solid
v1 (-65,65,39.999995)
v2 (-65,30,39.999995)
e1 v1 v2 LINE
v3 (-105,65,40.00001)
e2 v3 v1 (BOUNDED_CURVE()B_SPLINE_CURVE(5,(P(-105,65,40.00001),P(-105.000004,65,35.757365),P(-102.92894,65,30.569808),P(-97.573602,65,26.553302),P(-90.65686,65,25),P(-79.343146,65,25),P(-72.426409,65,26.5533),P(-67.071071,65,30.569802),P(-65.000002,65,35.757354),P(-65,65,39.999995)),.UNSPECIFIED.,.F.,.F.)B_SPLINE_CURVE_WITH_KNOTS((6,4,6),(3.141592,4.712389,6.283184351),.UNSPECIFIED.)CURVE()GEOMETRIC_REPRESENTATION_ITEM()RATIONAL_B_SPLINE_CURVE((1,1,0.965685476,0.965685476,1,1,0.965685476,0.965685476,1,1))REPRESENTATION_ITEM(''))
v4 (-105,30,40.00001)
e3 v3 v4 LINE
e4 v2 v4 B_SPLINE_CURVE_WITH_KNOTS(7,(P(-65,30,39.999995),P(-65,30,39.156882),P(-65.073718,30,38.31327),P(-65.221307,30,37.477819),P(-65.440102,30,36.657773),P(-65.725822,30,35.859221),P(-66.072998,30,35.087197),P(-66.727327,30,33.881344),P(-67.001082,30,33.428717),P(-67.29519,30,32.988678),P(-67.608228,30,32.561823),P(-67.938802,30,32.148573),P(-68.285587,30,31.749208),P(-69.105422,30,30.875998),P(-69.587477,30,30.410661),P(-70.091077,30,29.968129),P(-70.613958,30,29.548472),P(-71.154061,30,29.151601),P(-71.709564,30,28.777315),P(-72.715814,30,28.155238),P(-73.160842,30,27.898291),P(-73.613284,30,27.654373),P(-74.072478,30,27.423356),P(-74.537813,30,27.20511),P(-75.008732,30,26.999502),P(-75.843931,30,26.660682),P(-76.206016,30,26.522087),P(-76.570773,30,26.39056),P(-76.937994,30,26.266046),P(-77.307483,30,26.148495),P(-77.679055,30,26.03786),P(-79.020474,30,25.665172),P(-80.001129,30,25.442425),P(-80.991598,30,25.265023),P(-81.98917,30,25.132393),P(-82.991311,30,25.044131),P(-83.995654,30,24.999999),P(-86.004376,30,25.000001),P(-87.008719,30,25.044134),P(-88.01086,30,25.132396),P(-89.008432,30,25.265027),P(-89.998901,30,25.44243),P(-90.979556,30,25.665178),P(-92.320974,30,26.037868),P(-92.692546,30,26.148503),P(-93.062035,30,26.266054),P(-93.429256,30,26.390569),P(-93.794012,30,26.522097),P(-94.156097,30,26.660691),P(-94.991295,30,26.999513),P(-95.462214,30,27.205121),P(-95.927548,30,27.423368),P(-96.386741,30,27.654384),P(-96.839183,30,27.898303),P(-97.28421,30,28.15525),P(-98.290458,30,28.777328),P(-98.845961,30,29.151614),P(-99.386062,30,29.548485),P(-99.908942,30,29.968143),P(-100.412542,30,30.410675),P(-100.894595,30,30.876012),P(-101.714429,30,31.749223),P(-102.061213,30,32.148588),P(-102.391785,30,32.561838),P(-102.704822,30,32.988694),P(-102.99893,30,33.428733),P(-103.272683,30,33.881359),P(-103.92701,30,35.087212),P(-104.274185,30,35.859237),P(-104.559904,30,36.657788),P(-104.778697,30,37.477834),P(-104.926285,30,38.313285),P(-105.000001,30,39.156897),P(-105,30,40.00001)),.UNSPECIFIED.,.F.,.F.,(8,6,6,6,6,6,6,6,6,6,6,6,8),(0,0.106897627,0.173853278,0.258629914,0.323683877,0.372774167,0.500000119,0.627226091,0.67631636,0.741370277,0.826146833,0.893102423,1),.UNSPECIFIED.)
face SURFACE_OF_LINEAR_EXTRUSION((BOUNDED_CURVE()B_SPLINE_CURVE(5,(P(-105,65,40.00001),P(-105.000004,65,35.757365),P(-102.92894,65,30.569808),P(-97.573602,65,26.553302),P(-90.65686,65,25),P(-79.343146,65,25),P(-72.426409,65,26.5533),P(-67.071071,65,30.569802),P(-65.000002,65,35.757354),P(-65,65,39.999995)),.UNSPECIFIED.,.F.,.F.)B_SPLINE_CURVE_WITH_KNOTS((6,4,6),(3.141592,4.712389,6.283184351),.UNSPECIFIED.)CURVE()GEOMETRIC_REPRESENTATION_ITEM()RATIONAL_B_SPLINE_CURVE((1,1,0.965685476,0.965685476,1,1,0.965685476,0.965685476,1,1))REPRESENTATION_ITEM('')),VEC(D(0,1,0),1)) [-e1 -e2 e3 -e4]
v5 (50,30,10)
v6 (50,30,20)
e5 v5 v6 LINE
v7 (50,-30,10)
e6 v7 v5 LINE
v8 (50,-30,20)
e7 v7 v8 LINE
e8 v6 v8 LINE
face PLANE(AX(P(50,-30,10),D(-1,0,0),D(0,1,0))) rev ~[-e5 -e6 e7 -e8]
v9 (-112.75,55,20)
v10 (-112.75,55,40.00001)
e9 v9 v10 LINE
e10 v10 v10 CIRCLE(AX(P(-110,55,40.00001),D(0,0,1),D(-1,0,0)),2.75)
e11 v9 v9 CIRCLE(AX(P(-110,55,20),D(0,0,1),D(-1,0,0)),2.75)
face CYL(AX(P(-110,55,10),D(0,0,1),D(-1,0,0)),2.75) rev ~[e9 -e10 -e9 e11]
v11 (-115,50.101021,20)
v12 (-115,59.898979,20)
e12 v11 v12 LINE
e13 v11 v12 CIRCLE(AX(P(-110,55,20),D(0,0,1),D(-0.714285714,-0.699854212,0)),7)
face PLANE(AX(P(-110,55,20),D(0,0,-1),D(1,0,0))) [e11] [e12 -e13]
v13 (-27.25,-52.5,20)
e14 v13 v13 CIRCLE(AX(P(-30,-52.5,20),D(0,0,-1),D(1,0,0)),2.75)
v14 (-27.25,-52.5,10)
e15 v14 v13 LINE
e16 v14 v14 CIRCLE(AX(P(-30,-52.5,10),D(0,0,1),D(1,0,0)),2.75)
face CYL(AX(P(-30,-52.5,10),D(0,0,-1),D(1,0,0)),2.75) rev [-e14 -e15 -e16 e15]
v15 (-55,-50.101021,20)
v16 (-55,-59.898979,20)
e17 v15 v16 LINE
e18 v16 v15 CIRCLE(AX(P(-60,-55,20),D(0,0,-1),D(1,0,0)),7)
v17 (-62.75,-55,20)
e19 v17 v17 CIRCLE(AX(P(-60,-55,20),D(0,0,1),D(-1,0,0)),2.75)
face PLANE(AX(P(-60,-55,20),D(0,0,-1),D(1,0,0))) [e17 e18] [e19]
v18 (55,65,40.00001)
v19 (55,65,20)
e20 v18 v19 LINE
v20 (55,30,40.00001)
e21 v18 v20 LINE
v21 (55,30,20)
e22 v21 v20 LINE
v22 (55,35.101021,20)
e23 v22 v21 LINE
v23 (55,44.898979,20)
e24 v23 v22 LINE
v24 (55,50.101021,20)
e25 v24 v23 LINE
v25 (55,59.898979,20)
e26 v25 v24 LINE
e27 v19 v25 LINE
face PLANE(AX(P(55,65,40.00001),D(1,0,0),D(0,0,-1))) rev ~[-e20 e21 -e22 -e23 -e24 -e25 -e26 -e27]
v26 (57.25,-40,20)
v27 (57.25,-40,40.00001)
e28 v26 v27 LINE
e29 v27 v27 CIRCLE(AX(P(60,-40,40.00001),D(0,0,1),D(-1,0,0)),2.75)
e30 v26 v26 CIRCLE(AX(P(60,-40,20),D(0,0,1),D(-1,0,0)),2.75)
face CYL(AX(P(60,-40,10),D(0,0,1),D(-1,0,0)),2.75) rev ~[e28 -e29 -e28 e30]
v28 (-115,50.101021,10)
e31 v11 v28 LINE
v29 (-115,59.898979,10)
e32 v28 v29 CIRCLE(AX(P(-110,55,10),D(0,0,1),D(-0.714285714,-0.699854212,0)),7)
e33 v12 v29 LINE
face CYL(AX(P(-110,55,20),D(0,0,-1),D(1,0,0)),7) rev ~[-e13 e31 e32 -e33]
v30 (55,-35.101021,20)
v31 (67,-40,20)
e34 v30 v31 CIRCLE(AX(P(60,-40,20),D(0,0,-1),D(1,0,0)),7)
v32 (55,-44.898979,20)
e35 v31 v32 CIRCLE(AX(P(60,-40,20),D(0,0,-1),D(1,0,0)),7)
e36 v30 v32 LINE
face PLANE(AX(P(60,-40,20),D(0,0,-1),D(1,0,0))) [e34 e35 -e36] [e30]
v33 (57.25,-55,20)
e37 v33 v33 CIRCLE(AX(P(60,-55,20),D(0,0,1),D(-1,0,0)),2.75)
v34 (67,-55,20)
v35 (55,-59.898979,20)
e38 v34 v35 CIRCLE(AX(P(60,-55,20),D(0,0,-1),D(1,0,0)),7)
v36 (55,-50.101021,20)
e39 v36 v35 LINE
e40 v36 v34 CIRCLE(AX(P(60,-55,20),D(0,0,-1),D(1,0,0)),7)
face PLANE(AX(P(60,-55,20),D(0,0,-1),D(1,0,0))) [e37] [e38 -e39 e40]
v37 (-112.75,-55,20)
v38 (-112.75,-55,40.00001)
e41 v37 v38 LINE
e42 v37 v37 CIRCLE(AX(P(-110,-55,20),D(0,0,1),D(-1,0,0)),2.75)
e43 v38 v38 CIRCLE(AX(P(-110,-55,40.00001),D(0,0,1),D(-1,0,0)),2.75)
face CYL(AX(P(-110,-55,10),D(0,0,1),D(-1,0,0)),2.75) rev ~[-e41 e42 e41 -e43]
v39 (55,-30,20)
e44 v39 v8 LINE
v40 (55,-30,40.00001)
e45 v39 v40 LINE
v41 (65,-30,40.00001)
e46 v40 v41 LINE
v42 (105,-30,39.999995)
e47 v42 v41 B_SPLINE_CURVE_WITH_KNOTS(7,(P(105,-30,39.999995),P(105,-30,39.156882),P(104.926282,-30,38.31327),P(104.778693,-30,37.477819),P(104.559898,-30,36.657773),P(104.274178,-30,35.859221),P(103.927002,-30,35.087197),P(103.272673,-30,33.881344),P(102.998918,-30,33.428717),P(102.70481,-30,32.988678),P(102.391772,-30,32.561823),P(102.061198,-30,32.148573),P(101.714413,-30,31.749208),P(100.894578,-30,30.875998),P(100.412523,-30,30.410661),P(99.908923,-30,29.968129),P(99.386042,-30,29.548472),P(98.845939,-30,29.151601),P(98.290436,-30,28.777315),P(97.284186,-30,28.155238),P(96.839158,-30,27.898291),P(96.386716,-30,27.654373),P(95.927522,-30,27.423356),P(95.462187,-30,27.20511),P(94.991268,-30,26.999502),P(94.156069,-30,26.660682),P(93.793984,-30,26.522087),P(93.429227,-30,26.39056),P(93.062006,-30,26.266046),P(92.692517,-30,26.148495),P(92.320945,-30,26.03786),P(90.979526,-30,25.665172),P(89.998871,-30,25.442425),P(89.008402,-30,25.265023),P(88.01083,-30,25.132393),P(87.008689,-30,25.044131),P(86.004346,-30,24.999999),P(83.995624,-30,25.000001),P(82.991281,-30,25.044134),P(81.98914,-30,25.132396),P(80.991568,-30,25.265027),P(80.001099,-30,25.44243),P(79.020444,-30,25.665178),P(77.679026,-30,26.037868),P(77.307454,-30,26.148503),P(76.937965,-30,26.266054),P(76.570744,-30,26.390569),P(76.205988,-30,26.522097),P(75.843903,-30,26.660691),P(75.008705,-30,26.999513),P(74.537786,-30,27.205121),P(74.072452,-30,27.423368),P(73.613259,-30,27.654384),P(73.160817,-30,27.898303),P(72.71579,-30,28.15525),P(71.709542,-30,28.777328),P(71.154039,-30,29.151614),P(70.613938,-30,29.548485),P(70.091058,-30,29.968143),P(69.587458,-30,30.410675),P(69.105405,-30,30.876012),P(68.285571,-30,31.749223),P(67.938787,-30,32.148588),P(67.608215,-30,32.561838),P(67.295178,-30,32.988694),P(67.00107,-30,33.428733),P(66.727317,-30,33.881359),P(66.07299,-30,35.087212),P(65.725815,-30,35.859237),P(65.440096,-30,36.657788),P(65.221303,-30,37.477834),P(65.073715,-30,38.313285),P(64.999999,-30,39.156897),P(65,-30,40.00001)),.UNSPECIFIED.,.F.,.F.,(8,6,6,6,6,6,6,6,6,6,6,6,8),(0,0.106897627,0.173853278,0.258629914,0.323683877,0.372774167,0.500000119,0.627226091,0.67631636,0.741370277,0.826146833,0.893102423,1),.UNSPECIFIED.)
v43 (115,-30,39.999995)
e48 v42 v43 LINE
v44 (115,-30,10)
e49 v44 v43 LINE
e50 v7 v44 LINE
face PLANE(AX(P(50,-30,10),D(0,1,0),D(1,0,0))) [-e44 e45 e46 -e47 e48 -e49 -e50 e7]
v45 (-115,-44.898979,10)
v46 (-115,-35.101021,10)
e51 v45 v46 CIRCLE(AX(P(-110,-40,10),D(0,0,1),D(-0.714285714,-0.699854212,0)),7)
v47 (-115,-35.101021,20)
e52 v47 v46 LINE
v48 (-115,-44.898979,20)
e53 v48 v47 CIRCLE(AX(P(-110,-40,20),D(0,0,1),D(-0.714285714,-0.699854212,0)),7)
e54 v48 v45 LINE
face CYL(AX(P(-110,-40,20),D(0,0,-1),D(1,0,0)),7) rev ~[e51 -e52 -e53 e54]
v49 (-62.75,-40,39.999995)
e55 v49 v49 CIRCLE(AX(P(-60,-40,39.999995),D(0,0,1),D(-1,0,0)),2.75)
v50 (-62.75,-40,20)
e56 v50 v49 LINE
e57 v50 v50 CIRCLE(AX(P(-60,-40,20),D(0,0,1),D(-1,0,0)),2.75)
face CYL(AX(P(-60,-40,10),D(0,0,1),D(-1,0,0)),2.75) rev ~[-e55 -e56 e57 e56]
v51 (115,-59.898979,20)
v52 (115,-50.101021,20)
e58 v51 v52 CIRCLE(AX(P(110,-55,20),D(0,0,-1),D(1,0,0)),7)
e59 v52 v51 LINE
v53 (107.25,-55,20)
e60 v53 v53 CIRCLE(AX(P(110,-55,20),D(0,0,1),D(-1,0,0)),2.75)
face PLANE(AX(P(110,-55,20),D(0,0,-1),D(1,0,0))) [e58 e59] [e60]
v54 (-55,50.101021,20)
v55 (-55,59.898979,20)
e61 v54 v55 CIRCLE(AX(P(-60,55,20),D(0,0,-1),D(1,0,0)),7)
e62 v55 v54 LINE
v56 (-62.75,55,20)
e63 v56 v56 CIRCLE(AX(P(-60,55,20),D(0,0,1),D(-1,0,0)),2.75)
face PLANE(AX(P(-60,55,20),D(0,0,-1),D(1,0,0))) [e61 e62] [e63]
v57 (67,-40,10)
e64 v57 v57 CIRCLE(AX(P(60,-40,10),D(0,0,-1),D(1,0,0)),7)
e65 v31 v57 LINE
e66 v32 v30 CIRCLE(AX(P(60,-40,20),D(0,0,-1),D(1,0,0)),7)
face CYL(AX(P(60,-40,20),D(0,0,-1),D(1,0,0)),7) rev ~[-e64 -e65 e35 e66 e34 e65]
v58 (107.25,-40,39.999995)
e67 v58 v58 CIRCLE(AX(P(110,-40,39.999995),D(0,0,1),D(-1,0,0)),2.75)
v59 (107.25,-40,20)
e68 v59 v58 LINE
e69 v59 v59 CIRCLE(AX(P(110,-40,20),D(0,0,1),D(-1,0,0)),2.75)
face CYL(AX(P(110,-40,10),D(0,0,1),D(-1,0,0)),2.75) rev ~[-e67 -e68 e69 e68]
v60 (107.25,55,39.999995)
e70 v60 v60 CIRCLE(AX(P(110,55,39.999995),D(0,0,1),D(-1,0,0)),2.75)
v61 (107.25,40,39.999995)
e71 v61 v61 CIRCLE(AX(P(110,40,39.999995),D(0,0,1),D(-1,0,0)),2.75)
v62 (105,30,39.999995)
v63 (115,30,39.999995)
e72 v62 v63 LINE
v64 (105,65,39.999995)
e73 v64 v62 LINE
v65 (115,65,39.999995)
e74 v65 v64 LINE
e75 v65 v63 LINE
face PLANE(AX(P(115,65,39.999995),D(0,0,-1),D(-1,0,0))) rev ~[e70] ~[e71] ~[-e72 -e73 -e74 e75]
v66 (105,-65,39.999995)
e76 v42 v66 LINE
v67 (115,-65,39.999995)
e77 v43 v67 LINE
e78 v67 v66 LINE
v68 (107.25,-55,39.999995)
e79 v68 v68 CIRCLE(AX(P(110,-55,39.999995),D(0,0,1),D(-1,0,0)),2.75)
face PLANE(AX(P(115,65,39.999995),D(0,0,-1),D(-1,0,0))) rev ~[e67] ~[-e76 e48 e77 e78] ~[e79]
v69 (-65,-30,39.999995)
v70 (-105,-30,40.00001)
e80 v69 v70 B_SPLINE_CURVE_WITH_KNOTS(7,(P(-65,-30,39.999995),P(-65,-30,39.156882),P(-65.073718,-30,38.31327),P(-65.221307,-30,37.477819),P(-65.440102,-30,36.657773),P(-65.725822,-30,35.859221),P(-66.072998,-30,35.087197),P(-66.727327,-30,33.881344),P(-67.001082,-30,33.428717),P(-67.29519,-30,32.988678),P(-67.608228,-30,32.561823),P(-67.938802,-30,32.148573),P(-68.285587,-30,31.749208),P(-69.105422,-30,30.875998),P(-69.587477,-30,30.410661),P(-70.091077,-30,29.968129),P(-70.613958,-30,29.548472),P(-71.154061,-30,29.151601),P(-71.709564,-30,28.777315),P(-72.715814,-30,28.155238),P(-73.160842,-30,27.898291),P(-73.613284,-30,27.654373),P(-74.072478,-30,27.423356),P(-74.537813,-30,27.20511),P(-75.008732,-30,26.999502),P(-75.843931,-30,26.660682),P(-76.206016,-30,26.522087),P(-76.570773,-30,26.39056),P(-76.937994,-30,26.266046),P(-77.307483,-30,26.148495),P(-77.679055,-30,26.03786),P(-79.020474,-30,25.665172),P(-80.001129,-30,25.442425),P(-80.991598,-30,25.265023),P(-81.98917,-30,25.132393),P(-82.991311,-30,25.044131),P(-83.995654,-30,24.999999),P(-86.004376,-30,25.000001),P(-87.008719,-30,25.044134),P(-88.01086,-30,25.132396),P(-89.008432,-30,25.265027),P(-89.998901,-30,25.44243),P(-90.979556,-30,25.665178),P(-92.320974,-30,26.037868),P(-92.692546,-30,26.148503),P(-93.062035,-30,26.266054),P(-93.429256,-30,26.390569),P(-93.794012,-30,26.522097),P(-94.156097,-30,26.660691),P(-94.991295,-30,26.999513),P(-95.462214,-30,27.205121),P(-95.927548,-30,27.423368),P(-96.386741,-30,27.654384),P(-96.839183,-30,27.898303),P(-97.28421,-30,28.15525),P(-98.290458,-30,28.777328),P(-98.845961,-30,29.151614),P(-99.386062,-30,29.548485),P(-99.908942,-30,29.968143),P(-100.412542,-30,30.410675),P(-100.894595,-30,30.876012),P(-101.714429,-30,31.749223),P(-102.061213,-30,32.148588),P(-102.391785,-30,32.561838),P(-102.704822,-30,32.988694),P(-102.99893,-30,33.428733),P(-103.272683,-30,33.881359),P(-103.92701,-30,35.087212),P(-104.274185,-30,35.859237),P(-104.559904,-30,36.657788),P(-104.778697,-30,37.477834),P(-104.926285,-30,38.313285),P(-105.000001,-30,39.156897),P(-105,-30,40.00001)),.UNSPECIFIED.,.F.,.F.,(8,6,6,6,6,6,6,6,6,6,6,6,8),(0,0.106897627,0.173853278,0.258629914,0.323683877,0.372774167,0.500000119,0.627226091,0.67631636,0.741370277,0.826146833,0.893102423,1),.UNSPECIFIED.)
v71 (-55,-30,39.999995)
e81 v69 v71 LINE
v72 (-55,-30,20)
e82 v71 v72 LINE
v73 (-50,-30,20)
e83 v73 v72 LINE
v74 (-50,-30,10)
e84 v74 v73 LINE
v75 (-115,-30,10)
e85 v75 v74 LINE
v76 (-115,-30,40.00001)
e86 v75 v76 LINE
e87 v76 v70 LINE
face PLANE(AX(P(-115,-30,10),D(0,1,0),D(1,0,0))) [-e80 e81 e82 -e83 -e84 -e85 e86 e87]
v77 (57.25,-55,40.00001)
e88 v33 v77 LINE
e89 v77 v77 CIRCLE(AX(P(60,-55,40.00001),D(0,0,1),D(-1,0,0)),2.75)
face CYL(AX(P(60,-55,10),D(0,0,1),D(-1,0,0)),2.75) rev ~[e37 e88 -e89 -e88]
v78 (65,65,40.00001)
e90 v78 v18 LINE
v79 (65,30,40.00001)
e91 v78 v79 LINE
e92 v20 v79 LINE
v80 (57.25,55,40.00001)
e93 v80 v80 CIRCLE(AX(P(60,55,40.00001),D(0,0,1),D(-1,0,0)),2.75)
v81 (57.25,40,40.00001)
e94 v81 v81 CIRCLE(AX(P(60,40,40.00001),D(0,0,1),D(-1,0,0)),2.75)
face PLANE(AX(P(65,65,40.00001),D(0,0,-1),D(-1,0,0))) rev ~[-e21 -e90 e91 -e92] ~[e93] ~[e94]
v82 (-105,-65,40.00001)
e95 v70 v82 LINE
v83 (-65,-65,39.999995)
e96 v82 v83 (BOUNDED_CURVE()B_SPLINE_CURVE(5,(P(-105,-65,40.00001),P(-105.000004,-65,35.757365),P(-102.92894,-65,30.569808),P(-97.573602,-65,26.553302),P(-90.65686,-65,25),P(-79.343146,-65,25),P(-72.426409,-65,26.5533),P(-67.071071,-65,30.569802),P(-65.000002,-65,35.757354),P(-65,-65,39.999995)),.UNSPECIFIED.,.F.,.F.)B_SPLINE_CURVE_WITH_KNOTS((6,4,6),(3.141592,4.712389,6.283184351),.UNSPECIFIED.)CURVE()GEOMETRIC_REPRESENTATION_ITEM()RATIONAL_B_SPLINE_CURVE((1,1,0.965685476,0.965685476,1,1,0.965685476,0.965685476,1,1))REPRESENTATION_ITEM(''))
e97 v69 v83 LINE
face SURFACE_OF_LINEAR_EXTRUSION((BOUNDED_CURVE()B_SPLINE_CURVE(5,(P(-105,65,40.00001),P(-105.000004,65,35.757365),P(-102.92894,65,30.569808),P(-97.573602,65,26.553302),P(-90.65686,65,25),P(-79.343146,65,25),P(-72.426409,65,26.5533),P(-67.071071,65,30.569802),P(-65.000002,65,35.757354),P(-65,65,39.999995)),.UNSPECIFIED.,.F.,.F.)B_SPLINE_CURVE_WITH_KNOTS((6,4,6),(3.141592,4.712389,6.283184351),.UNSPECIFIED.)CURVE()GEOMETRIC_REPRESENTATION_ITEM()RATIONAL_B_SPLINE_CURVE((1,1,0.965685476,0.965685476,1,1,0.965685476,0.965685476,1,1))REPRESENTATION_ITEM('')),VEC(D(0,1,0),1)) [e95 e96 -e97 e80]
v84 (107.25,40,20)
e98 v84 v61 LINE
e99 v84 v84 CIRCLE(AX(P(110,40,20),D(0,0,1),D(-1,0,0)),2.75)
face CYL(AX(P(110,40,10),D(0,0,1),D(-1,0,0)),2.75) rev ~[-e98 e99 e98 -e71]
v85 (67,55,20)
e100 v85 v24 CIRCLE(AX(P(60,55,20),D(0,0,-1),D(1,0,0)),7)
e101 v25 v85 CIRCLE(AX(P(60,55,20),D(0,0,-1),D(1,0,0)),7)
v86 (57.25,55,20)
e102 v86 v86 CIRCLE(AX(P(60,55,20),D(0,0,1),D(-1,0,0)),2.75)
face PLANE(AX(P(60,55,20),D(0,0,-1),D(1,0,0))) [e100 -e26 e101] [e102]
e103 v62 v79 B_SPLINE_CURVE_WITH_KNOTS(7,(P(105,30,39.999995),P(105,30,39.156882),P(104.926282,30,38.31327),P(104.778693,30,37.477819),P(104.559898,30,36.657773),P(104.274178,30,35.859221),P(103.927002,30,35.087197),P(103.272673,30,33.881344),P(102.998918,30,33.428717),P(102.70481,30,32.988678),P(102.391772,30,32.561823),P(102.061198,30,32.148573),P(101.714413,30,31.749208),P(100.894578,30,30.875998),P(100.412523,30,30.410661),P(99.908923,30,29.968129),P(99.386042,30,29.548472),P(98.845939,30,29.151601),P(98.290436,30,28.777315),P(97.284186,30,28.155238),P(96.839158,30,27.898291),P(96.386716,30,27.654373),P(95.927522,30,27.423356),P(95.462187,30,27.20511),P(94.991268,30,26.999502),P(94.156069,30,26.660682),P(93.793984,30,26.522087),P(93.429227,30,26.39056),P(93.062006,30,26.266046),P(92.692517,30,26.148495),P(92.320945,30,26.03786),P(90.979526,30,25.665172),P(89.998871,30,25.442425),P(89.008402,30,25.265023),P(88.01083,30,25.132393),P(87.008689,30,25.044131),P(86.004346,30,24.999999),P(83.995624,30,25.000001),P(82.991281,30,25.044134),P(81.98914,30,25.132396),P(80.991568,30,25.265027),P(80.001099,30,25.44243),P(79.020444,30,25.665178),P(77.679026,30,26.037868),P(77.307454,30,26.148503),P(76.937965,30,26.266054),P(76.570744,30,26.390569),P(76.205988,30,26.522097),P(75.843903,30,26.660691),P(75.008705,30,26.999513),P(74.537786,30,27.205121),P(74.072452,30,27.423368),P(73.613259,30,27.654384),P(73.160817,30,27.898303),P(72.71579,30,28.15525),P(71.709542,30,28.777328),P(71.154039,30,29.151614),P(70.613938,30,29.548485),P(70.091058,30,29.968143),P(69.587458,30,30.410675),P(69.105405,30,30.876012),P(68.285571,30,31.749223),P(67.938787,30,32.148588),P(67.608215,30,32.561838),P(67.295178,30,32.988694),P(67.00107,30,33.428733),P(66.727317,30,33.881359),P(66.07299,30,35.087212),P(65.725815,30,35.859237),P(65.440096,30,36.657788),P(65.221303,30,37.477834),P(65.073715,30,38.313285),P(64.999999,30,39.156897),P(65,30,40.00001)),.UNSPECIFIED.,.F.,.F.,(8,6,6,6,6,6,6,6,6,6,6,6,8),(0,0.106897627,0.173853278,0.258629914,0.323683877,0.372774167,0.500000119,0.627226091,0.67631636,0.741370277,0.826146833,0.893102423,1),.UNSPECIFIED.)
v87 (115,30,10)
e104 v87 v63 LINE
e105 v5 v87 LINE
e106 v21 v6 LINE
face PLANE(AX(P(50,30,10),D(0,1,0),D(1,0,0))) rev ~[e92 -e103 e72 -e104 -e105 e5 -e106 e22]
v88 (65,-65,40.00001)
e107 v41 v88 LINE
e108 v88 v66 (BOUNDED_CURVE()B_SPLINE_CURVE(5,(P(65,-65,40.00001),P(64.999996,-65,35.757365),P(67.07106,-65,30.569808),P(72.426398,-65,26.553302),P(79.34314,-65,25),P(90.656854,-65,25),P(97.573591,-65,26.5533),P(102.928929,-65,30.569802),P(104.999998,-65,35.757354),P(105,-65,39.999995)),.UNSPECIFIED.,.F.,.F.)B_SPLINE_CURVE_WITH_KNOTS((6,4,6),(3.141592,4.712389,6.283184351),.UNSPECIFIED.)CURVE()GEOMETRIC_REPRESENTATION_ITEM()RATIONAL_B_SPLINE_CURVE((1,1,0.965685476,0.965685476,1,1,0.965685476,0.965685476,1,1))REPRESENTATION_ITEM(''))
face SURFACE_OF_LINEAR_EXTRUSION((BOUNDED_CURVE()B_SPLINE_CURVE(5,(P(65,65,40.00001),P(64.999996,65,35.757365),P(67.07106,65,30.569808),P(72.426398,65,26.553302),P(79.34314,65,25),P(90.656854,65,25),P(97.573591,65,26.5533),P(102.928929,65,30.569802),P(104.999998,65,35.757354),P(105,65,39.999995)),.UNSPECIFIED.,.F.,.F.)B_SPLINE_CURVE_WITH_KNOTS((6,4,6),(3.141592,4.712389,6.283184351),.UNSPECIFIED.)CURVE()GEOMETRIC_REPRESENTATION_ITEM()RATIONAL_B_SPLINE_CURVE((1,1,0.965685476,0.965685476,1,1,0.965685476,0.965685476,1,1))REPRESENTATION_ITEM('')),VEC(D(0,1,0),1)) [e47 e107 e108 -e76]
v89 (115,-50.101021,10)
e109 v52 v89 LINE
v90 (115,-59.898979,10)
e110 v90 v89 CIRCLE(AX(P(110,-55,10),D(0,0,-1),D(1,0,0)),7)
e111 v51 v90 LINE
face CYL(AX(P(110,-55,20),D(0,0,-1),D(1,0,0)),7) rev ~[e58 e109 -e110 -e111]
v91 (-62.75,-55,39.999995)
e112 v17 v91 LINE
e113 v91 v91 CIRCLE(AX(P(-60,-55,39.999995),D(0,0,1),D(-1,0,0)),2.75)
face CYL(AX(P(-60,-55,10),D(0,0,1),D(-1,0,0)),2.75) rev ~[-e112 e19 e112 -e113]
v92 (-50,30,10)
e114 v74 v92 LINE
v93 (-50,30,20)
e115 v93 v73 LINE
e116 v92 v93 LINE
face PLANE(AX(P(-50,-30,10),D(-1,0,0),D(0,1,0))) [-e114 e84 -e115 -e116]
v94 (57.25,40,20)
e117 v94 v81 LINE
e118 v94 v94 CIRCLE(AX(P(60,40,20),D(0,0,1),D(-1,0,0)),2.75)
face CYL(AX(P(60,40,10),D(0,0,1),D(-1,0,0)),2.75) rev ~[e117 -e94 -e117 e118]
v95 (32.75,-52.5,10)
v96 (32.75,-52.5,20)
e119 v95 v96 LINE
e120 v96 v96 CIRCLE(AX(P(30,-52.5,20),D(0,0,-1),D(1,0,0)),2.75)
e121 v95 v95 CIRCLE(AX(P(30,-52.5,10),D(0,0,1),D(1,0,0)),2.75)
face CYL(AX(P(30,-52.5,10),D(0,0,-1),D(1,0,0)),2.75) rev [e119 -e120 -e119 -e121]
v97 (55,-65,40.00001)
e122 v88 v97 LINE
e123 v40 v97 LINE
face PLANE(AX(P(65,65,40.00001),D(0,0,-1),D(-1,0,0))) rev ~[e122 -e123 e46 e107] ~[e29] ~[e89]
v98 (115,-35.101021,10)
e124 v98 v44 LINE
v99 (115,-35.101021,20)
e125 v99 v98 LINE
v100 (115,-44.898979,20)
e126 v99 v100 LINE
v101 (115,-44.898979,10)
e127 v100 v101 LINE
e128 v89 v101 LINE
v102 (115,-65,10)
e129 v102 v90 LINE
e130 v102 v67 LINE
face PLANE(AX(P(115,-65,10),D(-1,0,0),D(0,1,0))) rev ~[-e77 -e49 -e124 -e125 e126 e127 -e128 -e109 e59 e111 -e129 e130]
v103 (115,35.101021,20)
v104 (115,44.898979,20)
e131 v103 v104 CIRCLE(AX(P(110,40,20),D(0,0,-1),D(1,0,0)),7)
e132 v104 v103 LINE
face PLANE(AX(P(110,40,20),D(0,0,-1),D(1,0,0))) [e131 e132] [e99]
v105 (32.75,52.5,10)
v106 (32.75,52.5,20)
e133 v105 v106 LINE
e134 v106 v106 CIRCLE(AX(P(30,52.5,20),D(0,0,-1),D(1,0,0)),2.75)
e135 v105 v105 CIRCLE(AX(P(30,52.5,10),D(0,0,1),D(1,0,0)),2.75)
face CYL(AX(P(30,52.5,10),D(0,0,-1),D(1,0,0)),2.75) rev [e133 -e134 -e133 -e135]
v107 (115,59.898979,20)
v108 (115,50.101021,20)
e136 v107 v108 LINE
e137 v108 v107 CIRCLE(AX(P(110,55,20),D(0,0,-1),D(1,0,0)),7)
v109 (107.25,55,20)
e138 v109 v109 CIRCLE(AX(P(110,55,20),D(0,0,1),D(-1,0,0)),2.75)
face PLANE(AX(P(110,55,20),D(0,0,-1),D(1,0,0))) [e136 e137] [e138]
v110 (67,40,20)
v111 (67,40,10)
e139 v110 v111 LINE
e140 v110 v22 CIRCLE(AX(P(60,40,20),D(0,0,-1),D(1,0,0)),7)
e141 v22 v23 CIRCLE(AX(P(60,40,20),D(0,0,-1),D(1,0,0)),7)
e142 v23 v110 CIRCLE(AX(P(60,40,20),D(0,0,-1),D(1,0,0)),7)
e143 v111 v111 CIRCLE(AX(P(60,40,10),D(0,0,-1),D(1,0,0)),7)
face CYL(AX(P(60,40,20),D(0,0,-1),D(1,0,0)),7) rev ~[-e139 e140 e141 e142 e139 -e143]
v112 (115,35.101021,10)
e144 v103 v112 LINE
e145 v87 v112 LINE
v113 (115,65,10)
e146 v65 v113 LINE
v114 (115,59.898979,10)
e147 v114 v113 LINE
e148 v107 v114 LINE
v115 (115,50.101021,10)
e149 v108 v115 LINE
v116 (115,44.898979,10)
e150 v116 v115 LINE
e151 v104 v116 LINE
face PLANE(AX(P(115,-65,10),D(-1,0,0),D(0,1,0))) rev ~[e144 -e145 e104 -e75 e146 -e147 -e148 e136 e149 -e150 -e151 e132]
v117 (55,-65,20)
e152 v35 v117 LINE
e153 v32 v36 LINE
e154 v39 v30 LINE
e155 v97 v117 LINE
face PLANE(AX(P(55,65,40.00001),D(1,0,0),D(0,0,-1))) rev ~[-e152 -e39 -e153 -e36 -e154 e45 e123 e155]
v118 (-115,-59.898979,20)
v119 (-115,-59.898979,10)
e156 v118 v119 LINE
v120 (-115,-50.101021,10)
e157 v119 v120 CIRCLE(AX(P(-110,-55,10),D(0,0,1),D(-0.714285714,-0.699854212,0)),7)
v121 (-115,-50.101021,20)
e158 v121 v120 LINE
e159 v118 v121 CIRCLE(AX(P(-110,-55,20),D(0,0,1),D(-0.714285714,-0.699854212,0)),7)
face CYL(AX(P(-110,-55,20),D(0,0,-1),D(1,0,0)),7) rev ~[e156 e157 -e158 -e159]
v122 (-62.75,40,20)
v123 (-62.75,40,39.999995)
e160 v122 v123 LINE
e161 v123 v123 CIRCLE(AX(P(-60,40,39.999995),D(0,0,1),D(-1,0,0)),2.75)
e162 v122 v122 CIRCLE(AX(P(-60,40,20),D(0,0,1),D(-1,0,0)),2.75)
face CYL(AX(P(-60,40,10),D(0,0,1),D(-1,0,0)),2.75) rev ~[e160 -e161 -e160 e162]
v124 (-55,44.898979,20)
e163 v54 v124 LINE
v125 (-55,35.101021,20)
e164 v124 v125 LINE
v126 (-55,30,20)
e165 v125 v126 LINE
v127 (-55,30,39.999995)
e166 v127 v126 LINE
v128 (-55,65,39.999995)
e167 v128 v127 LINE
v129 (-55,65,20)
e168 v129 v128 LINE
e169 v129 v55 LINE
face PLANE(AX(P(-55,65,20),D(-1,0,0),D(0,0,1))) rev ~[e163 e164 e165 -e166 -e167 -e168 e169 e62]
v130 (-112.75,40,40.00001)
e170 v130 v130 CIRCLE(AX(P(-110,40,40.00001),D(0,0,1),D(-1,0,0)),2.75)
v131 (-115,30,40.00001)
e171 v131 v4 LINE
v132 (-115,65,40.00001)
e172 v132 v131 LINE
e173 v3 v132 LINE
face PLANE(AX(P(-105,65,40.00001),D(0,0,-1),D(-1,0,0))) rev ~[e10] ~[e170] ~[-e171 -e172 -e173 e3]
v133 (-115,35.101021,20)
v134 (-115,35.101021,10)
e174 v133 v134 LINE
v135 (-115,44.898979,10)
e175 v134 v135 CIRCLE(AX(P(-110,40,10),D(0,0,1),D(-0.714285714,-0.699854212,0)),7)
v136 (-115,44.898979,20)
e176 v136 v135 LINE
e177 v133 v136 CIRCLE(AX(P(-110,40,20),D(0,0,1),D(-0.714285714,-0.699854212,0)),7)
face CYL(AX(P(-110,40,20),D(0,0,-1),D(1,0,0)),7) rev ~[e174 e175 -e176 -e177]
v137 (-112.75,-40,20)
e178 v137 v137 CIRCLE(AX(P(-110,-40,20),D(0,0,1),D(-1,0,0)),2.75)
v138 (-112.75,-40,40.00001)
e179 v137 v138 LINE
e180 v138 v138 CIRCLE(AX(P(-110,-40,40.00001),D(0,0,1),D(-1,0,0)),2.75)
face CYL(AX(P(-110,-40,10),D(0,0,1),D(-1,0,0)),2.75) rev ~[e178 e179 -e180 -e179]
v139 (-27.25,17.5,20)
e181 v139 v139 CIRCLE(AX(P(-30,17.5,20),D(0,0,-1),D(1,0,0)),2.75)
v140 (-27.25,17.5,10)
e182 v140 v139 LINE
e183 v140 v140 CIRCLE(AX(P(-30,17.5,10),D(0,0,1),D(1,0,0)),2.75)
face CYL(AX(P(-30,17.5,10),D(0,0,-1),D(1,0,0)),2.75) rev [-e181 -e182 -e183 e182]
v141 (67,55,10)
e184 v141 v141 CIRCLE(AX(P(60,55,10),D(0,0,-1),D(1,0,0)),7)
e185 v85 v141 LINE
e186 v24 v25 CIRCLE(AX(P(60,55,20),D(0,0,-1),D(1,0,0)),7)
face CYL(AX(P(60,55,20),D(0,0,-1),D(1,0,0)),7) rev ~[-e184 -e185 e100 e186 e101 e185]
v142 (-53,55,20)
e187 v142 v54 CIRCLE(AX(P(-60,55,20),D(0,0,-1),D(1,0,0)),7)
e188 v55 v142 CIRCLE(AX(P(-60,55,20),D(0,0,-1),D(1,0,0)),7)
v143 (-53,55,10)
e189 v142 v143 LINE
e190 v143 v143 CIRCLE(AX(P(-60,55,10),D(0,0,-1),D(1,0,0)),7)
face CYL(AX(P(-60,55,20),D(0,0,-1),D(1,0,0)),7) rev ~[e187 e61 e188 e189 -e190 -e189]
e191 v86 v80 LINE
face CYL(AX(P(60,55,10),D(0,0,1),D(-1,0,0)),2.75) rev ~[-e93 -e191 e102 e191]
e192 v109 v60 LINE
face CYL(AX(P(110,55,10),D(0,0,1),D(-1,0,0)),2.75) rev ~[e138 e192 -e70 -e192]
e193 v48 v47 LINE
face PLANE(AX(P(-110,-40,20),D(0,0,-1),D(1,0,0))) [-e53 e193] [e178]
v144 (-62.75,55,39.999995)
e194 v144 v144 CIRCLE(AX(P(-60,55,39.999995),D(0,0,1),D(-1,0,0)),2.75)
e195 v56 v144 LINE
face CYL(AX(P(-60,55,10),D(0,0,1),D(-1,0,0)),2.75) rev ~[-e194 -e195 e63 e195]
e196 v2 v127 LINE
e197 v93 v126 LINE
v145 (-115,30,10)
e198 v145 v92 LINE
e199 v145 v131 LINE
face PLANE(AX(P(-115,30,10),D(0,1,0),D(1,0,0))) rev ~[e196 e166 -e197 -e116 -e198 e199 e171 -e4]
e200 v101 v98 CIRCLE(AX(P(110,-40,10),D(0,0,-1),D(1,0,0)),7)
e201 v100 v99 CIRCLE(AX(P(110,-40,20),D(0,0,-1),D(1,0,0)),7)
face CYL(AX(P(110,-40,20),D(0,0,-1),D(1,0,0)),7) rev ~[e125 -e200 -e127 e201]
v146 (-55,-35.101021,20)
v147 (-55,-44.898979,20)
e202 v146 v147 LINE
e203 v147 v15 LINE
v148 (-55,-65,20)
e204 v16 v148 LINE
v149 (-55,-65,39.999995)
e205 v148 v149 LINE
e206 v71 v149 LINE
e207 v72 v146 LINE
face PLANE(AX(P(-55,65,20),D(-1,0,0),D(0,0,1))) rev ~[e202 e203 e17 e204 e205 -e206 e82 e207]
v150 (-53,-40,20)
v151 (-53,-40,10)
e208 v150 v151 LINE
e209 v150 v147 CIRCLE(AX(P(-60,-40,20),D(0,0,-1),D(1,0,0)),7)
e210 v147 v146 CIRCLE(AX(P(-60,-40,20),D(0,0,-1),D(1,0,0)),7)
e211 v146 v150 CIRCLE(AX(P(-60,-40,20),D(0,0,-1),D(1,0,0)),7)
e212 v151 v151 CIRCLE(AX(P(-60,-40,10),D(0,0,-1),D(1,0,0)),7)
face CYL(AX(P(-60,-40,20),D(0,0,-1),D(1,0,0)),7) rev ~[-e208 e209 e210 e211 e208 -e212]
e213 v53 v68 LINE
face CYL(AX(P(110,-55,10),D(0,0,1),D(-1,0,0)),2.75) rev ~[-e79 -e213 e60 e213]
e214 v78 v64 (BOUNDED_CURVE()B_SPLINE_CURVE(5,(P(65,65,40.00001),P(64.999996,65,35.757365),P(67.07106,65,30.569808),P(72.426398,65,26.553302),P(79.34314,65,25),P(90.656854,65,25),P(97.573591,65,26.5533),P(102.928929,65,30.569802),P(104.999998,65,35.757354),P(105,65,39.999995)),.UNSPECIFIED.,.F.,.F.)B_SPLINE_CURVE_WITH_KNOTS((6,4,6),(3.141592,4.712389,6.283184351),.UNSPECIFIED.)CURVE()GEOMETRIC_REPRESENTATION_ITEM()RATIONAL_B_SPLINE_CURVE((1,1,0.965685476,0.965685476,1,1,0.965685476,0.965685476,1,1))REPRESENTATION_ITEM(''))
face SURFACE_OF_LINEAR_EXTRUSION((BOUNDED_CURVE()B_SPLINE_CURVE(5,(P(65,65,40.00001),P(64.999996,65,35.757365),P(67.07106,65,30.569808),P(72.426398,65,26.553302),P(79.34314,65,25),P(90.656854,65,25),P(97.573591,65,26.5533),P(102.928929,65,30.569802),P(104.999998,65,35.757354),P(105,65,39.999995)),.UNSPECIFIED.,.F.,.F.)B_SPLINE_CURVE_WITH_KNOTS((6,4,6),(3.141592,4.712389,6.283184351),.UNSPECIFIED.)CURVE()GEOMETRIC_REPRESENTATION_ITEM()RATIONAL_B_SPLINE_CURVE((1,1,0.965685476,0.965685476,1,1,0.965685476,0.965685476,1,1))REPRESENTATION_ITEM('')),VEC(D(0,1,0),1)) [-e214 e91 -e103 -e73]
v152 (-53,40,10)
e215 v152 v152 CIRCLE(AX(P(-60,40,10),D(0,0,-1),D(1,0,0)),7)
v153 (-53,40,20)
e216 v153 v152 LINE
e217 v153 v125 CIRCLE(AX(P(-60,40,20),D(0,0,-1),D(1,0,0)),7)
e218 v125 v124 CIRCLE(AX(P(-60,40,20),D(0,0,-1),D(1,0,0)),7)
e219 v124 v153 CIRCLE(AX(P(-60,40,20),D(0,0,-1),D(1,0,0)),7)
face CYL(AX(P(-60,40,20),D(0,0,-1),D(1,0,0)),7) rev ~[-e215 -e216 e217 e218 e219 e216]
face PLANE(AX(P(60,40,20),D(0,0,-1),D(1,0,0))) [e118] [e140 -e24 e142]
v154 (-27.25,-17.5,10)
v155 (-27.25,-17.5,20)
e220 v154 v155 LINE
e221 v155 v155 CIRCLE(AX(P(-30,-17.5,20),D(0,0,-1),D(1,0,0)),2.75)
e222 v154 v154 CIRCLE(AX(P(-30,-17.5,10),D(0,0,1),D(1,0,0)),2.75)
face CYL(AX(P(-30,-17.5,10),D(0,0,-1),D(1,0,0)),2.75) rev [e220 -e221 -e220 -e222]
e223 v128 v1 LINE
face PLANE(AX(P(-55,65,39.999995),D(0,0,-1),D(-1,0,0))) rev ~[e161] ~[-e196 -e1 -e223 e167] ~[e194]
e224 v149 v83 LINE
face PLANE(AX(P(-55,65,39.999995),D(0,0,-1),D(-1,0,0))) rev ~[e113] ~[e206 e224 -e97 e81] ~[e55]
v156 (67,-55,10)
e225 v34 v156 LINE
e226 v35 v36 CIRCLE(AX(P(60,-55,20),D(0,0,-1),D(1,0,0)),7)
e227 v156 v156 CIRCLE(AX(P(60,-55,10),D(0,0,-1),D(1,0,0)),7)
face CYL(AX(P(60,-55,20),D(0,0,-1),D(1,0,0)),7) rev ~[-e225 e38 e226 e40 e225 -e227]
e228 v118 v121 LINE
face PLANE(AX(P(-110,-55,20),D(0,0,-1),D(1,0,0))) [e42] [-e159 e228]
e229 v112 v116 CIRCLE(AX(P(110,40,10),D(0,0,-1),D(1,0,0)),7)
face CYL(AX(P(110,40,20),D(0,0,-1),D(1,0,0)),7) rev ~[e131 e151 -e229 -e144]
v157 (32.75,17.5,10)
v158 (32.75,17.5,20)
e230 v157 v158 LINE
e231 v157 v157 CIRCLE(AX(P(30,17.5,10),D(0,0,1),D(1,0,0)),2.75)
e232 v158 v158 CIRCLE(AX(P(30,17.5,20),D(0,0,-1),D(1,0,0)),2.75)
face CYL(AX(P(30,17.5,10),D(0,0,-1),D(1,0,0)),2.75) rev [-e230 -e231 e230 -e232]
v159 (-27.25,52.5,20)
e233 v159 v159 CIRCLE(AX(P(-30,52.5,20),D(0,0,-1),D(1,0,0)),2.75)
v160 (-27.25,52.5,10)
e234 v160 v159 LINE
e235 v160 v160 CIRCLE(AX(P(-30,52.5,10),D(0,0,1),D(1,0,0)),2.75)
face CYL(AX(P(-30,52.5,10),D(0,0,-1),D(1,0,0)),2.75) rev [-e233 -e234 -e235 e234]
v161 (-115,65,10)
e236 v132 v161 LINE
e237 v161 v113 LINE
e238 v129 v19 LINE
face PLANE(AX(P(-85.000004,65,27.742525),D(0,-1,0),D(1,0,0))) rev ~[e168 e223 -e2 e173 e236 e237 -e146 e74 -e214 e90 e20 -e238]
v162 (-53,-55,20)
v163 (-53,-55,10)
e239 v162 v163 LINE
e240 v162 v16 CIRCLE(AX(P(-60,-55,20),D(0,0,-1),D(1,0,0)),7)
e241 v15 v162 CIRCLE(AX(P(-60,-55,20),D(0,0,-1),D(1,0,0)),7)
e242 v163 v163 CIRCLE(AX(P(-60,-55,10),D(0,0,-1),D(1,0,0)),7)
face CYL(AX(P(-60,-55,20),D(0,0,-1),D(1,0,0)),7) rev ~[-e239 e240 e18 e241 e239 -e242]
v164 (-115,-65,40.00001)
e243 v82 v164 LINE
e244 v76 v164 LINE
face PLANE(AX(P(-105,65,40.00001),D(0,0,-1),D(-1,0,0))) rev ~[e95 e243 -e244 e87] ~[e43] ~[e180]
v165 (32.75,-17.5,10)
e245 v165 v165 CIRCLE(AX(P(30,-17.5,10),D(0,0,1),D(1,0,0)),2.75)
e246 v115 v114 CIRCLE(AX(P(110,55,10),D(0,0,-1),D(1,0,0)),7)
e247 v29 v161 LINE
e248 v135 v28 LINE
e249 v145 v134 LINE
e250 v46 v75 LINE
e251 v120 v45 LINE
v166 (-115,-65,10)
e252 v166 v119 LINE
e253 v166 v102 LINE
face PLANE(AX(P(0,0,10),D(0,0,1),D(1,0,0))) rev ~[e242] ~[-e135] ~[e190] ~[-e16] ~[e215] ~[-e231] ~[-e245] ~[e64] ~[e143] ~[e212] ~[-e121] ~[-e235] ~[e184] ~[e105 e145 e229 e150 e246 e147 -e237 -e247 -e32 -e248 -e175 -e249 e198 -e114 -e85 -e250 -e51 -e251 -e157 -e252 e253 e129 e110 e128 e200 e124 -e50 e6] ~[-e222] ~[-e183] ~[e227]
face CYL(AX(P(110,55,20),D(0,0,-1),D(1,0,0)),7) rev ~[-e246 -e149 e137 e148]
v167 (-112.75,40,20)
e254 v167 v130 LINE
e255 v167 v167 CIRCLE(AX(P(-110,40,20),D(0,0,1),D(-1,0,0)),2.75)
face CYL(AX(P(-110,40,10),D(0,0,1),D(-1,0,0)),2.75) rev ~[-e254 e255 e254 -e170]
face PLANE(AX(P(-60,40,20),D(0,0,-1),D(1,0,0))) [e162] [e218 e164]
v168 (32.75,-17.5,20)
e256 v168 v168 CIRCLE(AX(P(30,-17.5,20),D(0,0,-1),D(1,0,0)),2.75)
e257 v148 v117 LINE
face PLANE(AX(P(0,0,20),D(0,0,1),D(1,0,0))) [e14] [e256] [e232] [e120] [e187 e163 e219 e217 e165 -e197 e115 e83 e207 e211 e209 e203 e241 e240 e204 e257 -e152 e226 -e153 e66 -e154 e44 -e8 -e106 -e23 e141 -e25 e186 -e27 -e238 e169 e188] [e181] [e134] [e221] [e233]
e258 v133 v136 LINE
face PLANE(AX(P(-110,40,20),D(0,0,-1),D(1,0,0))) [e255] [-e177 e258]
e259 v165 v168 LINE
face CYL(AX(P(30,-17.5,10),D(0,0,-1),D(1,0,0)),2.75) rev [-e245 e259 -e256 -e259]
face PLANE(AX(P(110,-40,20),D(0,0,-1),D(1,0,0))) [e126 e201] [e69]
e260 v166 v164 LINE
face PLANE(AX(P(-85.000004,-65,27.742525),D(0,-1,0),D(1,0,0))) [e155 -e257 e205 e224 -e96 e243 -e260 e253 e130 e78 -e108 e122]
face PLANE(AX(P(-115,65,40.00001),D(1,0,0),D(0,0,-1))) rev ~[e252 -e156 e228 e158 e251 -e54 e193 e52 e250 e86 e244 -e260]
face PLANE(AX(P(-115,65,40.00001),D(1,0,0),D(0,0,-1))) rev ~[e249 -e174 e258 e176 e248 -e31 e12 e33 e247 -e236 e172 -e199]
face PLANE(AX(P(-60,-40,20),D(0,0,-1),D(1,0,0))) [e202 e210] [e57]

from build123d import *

# Parameters (mm, degrees)
SKETCH_W            = 230
SKETCH_H            = 130
PAD_DEPTH           = 10
SKETCH049_R         = 2.75
HOLE_DEPTH          = 25
PAD024_DEPTH        = 130
HOLE024_D           = 5.5
HOLE024_DEPTH       = 40
HOLE024_CBORE_D     = 14
HOLE024_CBORE_DEPTH = 10
SKETCH050_W         = 65
SKETCH050_H         = 60
POCKET_DEPTH        = 84


with BuildPart() as part:
    # Sketch → Pad (new body)
    with BuildSketch(Plane.XY):
        Rectangle(SKETCH_W, SKETCH_H)
    extrude(amount=PAD_DEPTH)

    # Sketch049 → Hole (cut)
    with BuildSketch(Plane.XY):
        with Locations((-30, 52.5)):
            Circle(SKETCH049_R)
        with Locations((-30, 17.5)):
            Circle(SKETCH049_R)
        with Locations((-30, -17.5)):
            Circle(SKETCH049_R)
        with Locations((-30, -52.5)):
            Circle(SKETCH049_R)
        with Locations((30, -52.5)):
            Circle(SKETCH049_R)
        with Locations((30, -17.5)):
            Circle(SKETCH049_R)
        with Locations((30, 17.5)):
            Circle(SKETCH049_R)
        with Locations((30, 52.5)):
            Circle(SKETCH049_R)
    extrude(amount=HOLE_DEPTH, mode=Mode.SUBTRACT)

    # Sketch051 → Pad024 (join)
    with BuildSketch(Plane.XZ.offset(-65)):
        with BuildLine():
            Line((-105, 30.00001), (-115, 30.00001))
            Line((-115, 30.00001), (-115, 10))
            Line((-115, 10), (-55, 10))
            Line((-55, 10), (-55, 29.999995))
            Line((-55, 29.999995), (-65, 29.999995))
            add(Edge.make_bspline(
                [(-85, 15), (-65.000007, 15), (-65, 29.999995)],
                knots=[4.712389, 4.712389, 4.712389, 6.283185, 6.283185, 6.283185], degree=2, weights=[1, 0.707107, 1]))
            add(Edge.make_bspline(
                [(-105, 30.00001), (-105.000014, 15), (-85, 15)],
                knots=[3.141592, 3.141592, 3.141592, 4.712389, 4.712389, 4.712389], degree=2, weights=[1, 0.707107, 1]))
        make_face()
        with BuildLine():
            Line((65, 30.00001), (55, 30.00001))
            Line((55, 30.00001), (55, 10))
            Line((55, 10), (115, 10))
            Line((115, 10), (115, 29.999995))
            Line((115, 29.999995), (105, 29.999995))
            add(Edge.make_bspline(
                [(85, 15), (104.999993, 15), (105, 29.999995)],
                knots=[4.712389, 4.712389, 4.712389, 6.283185, 6.283185, 6.283185], degree=2, weights=[1, 0.707107, 1]))
            add(Edge.make_bspline(
                [(65, 30.00001), (64.999986, 15), (85, 15)],
                knots=[3.141592, 3.141592, 3.141592, 4.712389, 4.712389, 4.712389], degree=2, weights=[1, 0.707107, 1]))
        make_face()
    extrude(amount=PAD024_DEPTH)

    # Hole024
    with Locations(Plane(origin=(0, 0, 0), x_dir=(1, 0, 0), z_dir=(0, 0, -1))):
        with Locations((-60, 55), (-60, 40), (-110, 55), (-110, 40), (-60, -40), (-60, -55), (-110, -40), (-110, -55), (110, 55), (110, 40), (60, 55), (60, 40), (110, -40), (110, -55), (60, -40), (60, -55)):
            CounterBoreHole(HOLE024_D / 2, HOLE024_CBORE_D / 2, HOLE024_CBORE_DEPTH, depth=HOLE024_DEPTH)

    # Sketch050 → Pocket (cut)
    with BuildSketch(Plane.XY):
        with Locations((-82.5, 0)):
            Rectangle(SKETCH050_W, SKETCH050_H)
        with Locations((82.5, 0)):
            Rectangle(SKETCH050_W, SKETCH050_H)
    extrude(amount=POCKET_DEPTH, mode=Mode.SUBTRACT)


with BuildPart() as part_1:
    # Body placement: moved
    add(part.part.moved(Location((0, 0, 10))))


solid = part_1.part
